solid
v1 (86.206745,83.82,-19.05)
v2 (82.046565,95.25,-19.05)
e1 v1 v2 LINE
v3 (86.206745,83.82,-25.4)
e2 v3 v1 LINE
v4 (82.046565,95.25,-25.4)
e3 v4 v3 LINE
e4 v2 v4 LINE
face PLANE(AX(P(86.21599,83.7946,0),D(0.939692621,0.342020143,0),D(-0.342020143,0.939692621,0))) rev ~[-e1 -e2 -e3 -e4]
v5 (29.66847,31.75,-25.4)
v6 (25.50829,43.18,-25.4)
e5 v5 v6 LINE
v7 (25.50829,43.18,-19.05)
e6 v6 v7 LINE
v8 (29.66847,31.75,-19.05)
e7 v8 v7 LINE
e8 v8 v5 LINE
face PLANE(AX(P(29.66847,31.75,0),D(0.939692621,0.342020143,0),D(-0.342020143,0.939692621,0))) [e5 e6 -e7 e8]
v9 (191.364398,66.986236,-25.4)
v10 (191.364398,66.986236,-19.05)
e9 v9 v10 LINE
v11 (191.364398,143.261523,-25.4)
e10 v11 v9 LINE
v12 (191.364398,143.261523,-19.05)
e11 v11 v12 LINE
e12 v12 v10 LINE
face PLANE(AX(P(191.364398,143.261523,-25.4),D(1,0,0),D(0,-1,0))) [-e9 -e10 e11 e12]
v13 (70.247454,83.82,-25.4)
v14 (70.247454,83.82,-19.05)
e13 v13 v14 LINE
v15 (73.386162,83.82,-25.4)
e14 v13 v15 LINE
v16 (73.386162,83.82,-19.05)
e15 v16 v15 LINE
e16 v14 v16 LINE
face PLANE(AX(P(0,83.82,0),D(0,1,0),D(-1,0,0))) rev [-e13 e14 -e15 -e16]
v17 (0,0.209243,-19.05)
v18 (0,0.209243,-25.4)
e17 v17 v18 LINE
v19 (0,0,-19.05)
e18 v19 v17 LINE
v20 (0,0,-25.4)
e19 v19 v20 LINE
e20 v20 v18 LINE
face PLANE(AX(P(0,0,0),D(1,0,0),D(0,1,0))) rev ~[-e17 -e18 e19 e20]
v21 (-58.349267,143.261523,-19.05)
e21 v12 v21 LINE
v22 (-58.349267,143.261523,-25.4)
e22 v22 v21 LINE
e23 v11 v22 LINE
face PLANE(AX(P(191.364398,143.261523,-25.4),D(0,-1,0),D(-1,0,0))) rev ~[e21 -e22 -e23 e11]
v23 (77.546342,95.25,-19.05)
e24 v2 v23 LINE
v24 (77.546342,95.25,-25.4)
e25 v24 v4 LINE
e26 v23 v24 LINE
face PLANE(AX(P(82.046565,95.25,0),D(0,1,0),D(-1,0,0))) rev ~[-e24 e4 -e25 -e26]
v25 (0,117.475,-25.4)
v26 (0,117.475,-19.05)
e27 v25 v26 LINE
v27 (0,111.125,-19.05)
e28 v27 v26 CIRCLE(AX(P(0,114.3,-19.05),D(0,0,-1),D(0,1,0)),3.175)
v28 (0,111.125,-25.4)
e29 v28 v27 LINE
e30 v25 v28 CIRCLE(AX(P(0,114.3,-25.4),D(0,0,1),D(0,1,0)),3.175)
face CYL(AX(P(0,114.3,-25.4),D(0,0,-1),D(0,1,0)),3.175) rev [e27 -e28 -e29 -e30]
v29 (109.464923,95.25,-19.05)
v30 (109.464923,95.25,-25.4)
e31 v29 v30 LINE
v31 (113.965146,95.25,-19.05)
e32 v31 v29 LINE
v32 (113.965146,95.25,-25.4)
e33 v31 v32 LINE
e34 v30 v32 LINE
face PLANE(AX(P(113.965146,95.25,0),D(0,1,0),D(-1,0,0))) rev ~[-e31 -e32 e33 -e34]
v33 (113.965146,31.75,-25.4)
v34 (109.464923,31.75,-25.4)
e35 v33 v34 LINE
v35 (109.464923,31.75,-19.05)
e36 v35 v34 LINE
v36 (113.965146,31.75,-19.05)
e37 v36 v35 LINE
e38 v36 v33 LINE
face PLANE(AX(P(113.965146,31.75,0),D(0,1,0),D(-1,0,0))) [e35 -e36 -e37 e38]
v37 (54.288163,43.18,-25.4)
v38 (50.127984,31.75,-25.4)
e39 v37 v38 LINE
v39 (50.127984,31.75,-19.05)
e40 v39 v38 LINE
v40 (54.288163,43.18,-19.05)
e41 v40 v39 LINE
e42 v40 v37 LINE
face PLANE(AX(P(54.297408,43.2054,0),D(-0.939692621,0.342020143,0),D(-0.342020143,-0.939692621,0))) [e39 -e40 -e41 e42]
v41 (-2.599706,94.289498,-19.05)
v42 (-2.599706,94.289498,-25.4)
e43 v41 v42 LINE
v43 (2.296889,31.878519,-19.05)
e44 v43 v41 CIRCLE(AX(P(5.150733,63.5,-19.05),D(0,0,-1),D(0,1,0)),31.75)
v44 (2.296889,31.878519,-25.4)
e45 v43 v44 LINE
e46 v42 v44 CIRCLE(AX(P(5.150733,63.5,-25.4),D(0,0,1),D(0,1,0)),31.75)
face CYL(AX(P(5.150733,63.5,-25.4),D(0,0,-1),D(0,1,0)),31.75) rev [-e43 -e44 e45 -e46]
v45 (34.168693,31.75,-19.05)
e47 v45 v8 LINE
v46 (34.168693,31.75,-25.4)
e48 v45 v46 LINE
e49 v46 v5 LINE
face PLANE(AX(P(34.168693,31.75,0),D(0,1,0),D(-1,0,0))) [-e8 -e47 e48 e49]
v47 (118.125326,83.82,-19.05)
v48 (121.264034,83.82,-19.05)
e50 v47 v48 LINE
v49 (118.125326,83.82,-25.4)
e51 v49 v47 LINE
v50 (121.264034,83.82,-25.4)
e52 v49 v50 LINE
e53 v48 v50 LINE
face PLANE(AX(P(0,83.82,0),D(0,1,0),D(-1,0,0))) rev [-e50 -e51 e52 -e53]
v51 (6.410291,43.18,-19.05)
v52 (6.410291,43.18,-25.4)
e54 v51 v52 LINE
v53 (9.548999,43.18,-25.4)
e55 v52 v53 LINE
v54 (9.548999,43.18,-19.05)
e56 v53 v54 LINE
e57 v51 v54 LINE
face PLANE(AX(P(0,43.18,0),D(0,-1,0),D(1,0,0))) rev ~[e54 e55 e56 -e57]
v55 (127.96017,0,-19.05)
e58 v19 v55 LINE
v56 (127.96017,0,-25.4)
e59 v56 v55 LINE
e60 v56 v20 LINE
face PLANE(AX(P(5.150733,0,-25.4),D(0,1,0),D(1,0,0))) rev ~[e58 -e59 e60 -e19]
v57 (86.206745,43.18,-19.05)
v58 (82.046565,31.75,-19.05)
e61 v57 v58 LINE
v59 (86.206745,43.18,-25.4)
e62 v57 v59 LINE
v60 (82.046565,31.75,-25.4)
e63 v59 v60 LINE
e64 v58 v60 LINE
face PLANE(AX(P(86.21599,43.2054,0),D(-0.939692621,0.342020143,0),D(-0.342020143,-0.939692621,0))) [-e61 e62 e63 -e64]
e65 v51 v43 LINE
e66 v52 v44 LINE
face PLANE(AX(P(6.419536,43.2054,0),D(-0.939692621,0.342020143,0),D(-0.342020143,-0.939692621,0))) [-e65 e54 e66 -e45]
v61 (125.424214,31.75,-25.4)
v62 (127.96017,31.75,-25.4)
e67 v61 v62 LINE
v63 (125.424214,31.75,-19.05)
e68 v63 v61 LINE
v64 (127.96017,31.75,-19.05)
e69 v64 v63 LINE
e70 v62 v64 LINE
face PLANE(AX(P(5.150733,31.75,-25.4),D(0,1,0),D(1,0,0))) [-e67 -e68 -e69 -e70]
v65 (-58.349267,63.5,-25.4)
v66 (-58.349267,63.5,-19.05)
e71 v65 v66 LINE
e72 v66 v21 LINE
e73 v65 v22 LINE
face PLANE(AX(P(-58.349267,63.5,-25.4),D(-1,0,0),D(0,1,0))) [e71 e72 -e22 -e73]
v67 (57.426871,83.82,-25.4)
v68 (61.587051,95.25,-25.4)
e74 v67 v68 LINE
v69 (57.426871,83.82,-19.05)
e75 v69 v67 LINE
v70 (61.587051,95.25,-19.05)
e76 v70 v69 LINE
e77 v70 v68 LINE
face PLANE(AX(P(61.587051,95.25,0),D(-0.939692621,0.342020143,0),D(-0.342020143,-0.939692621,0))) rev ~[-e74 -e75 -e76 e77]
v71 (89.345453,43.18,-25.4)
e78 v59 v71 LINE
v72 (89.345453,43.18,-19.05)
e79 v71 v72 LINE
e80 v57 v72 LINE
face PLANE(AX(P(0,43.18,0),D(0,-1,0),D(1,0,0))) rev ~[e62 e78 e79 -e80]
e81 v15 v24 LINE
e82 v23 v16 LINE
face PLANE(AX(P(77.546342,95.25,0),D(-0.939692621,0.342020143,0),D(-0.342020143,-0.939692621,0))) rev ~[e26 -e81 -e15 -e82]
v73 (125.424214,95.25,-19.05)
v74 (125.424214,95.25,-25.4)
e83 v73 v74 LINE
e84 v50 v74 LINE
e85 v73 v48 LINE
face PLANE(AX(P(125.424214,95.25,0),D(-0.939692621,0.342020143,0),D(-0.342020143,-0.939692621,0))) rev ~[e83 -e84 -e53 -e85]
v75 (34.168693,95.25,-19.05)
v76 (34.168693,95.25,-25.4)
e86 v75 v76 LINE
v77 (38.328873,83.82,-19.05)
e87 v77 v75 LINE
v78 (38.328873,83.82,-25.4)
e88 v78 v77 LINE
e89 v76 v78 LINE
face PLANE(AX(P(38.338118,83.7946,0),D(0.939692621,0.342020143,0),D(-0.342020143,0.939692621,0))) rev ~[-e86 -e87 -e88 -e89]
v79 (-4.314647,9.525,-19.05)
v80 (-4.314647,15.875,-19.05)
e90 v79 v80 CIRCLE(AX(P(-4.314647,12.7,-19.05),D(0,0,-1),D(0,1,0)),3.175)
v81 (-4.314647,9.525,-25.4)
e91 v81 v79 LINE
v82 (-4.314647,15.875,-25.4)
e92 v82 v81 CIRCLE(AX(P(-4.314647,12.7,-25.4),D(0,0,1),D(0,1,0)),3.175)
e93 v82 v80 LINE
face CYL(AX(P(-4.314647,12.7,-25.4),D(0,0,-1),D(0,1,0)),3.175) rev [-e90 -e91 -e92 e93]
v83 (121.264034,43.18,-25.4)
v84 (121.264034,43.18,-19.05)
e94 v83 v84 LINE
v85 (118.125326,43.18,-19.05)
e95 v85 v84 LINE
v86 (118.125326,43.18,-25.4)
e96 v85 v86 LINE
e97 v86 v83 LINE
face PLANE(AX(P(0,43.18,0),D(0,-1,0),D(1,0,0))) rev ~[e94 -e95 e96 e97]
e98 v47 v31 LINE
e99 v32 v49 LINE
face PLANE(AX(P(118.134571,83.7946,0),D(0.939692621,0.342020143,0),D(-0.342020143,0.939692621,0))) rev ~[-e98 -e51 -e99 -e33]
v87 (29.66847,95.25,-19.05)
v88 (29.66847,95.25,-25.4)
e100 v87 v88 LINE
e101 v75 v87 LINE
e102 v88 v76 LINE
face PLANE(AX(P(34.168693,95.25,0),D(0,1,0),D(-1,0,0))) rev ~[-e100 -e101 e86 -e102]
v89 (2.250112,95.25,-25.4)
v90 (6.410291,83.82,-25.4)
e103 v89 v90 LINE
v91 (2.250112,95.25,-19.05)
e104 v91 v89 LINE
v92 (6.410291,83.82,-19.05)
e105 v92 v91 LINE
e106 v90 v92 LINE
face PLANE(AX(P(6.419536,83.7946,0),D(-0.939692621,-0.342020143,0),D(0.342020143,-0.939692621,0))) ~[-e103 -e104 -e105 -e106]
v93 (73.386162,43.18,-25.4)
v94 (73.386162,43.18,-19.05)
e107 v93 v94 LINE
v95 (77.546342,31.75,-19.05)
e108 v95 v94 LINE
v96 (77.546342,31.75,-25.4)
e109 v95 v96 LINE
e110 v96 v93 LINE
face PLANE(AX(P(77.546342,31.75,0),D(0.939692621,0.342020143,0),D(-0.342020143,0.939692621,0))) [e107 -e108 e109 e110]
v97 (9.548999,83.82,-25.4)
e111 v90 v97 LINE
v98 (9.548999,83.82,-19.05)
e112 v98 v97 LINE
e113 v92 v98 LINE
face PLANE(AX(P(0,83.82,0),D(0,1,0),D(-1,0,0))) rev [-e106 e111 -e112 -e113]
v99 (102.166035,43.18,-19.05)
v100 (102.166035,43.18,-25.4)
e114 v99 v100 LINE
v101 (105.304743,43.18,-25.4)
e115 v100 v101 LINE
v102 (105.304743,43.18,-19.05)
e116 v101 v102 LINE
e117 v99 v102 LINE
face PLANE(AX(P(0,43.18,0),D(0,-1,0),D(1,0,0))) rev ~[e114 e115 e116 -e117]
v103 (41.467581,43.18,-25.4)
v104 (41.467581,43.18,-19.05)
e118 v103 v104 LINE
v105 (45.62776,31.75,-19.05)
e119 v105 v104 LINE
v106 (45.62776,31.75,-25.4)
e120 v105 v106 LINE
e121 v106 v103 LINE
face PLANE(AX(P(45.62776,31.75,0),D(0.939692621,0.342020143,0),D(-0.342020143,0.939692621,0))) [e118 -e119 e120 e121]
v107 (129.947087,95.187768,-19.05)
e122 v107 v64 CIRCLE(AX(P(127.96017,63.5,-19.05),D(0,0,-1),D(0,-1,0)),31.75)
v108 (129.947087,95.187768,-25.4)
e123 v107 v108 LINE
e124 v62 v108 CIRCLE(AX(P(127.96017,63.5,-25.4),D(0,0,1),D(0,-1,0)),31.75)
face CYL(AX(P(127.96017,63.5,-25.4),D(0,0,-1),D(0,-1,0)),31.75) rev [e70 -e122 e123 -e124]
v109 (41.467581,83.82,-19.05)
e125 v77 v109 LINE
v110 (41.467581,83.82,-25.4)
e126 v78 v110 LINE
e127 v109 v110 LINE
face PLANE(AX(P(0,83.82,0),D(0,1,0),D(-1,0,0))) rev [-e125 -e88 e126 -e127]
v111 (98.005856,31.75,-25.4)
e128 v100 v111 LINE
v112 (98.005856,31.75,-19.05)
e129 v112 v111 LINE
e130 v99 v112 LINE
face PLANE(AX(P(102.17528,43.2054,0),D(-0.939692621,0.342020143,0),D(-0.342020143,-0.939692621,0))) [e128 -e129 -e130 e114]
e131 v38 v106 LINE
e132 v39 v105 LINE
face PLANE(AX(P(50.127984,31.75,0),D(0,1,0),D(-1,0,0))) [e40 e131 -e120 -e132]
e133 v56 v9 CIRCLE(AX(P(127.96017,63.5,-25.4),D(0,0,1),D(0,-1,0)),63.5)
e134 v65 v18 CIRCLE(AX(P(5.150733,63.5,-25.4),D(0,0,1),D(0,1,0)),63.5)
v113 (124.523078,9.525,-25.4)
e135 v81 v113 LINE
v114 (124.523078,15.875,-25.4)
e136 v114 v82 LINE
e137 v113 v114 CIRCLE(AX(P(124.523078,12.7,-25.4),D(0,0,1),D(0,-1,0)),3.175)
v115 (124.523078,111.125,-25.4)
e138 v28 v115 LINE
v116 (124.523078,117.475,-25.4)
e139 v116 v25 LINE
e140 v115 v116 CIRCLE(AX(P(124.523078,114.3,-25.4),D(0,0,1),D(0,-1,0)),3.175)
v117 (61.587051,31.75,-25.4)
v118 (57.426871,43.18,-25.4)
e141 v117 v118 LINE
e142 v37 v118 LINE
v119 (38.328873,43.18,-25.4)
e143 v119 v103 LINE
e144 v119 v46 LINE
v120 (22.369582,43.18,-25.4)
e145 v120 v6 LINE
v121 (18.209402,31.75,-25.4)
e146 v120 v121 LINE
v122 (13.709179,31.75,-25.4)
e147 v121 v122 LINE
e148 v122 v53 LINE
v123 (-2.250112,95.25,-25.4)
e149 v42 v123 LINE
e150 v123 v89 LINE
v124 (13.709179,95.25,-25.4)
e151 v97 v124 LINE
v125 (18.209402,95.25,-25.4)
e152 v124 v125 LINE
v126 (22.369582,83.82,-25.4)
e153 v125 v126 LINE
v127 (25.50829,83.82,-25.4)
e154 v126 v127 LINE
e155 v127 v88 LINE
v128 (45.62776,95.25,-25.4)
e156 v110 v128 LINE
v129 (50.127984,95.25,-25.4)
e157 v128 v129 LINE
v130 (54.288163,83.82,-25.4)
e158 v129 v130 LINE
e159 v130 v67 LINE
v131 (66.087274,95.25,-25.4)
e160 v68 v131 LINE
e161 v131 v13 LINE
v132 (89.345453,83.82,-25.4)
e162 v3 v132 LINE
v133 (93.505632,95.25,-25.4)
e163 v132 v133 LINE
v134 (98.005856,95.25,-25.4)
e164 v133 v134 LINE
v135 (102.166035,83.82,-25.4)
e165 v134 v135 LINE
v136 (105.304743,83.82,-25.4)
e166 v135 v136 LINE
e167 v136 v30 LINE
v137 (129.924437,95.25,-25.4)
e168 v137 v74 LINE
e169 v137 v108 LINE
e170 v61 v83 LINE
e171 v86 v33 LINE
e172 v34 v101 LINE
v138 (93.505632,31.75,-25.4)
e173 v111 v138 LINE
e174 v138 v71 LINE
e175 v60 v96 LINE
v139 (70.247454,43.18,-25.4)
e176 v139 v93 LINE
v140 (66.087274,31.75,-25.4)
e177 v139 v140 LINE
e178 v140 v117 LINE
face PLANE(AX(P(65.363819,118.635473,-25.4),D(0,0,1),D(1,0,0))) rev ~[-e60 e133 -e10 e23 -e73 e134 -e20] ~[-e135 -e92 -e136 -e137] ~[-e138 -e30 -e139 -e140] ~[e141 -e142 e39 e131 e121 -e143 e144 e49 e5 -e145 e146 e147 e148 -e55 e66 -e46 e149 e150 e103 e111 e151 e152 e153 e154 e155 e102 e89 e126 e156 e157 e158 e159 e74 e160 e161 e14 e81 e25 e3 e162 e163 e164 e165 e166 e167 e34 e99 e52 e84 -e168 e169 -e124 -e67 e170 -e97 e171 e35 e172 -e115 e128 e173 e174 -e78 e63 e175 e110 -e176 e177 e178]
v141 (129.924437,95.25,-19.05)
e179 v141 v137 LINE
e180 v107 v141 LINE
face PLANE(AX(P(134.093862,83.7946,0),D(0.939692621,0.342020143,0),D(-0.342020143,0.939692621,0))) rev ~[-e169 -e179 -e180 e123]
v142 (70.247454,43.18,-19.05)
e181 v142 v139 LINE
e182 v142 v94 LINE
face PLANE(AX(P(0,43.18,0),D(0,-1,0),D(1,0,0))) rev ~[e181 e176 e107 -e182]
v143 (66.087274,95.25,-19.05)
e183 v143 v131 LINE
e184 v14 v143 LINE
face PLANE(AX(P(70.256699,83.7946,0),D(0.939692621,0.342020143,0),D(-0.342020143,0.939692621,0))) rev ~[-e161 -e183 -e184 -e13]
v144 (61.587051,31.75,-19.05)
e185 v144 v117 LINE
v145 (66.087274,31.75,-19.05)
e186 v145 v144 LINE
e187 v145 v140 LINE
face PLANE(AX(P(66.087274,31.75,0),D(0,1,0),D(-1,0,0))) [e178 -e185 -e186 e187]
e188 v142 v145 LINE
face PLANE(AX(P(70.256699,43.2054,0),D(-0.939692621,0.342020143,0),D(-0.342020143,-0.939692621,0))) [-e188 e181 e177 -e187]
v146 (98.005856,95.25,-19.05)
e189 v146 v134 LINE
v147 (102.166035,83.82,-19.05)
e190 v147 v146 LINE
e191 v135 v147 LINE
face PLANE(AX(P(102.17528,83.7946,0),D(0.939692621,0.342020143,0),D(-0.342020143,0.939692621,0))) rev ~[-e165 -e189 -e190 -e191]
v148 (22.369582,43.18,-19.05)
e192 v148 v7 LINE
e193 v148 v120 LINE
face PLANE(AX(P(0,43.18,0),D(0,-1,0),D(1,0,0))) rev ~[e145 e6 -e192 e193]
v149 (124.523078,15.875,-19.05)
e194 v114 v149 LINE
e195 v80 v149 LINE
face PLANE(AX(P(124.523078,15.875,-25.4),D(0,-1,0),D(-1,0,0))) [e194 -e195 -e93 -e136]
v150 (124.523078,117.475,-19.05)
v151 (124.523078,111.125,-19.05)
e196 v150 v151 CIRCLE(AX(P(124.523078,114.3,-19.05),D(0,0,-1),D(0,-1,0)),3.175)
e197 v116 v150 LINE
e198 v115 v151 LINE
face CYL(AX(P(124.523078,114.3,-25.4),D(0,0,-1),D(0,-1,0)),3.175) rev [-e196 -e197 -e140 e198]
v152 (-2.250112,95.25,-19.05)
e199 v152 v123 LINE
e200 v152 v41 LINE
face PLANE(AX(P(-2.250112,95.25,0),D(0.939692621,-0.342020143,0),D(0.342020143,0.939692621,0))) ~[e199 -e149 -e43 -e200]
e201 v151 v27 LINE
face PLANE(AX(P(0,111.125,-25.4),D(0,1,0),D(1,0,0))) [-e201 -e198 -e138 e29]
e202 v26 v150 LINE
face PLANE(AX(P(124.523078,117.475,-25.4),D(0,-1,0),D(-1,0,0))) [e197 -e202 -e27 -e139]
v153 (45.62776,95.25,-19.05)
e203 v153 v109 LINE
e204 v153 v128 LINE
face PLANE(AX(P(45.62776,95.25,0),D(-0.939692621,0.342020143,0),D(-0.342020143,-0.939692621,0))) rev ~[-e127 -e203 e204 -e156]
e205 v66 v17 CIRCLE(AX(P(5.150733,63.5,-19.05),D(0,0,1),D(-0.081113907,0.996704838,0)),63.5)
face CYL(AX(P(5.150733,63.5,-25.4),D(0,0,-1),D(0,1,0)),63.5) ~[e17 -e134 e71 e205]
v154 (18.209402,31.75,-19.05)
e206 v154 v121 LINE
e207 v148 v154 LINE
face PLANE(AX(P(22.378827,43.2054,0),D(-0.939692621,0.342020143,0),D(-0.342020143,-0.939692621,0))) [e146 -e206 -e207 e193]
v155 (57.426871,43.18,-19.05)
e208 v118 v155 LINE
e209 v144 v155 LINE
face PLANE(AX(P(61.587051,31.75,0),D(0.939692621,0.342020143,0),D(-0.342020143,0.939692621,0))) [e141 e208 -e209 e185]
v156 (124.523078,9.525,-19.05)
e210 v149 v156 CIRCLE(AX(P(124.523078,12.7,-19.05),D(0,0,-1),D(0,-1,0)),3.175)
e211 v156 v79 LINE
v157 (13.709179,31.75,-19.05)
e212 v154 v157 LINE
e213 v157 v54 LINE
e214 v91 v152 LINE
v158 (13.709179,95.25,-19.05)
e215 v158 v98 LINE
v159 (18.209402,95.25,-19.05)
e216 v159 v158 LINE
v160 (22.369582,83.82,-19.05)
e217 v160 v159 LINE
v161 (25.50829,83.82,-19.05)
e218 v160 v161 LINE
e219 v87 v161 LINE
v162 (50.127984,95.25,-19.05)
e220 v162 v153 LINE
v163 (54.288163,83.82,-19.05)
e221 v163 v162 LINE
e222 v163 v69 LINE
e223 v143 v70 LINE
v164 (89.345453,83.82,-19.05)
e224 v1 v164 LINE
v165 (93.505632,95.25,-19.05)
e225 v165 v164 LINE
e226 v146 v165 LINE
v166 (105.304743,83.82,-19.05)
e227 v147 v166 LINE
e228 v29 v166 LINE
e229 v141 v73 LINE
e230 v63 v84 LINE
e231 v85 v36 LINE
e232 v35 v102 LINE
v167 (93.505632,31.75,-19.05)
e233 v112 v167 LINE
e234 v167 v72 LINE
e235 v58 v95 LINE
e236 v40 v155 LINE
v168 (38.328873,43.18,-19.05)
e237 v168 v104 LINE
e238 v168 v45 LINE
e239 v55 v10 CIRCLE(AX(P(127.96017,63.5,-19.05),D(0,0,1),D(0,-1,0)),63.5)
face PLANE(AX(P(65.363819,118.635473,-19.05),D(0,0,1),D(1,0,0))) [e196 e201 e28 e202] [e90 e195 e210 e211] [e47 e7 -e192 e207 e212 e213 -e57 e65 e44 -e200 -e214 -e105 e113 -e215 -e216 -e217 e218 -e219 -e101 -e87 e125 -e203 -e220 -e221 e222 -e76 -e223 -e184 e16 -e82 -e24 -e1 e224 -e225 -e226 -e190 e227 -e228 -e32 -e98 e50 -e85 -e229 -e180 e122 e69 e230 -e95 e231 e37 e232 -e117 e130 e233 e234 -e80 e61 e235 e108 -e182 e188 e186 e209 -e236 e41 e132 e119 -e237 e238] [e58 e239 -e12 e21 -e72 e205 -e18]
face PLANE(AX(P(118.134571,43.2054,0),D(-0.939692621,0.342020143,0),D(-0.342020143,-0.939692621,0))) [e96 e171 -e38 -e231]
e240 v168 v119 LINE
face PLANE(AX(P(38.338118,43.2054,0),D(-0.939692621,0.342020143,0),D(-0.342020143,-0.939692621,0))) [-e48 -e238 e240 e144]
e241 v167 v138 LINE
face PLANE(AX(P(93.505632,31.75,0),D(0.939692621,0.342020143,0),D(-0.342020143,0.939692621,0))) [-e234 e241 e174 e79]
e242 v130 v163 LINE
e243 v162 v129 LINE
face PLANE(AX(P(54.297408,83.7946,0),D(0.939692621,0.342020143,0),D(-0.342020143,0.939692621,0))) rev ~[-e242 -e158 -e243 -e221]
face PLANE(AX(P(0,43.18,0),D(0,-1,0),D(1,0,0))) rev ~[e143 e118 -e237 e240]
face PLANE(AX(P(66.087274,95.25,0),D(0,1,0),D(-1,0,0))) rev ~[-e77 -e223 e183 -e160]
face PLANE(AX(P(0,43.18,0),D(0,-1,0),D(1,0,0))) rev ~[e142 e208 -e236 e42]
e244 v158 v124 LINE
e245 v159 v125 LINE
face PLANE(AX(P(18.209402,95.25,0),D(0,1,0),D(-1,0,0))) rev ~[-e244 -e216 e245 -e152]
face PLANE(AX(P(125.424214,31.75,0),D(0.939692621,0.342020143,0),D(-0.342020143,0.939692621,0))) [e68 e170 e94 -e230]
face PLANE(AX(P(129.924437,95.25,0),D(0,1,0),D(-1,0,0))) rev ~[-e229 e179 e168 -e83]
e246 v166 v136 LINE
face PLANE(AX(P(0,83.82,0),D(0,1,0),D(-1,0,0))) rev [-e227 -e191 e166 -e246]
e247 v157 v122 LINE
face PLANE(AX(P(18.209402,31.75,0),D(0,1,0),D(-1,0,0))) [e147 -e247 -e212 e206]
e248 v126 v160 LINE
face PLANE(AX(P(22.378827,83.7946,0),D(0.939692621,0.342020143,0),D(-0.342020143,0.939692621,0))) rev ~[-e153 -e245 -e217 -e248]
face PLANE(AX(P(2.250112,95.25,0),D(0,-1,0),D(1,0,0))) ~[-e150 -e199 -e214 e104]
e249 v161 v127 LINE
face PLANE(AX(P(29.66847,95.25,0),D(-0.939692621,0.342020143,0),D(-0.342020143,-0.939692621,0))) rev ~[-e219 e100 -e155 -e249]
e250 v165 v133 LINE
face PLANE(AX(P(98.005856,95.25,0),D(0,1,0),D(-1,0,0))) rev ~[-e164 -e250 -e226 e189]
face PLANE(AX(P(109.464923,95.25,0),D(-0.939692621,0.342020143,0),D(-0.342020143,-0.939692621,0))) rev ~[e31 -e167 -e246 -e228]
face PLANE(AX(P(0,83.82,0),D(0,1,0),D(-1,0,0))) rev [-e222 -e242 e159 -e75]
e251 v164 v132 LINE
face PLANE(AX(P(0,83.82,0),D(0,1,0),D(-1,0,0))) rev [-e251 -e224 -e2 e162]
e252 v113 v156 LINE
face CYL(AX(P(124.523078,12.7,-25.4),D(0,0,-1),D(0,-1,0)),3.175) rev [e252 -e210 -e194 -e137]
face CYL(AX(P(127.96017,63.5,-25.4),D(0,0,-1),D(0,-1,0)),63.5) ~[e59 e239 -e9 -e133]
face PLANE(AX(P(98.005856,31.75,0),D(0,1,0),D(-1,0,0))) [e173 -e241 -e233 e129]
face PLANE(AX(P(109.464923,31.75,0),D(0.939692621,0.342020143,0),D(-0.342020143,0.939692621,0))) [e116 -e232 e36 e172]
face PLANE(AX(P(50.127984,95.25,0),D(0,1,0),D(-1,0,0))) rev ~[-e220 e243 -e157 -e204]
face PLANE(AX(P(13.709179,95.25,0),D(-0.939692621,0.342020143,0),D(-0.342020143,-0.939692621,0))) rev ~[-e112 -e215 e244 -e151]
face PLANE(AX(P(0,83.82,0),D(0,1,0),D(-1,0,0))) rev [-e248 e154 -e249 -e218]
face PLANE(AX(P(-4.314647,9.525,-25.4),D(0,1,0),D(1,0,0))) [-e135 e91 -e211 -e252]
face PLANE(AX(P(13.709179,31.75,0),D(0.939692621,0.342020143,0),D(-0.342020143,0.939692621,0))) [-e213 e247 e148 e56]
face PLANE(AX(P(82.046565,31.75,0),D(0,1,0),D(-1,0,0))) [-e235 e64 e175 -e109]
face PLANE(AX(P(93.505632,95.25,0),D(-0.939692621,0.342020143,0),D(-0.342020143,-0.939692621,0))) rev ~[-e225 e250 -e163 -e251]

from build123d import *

# Parameters (mm, degrees)
BLANKSKE_W           = 127
BLANKSKE_H           = 43.18
BLANK_DEPTH          = 25.4
TOOTHCUTSIM_DEPTH    = 137.523523248
TEETHCUTS_COUNT      = 9
TEETHCUTS_PITCH      = 15.959290662
BOSS_EXTRUDE1_DEPTH  = 25.4
MIRROR1_COPY_1_DEPTH = 137.523523248
MIRROR1_COPY_2_DEPTH = 137.523523248
MIRROR1_COPY_3_DEPTH = 137.523523248
MIRROR1_COPY_4_DEPTH = 137.523523248
MIRROR1_COPY_5_DEPTH = 137.523523248
MIRROR1_COPY_6_DEPTH = 137.523523248
MIRROR1_COPY_7_DEPTH = 137.523523248
MIRROR1_COPY_8_DEPTH = 137.523523248
CUT_EXTRUDE1_DEPTH   = 232.151804304
SKETCH5_W            = 249.809436719
SKETCH5_H            = 19.05
CUT_EXTRUDE2_DEPTH   = 232.151804304
BOSS_EXTRUDE2_DEPTH  = 6.35


with BuildPart() as part:
    # BlankSke → Blank (new body)
    with BuildSketch(Plane.XY):
        with Locations((63.5, 21.59)):
            Rectangle(BLANKSKE_W, BLANKSKE_H)
    blank = extrude(amount=-BLANK_DEPTH)

    # TooCutSkeSim → ToothCutSim (cut, through all)
    with BuildSketch(Plane.XY):
        Polygon((2.250111678, 31.75), (-2.250111678, 31.75), (-6.4195363, 43.2054), (6.4195363, 43.2054), align=None)
    toothcutsim = extrude(amount=-TOOTHCUTSIM_DEPTH, mode=Mode.SUBTRACT)

    # TeethCuts: ToothCutSim ×9
    with Locations(*[(i * TEETHCUTS_PITCH, 0, 0) for i in range(1, TEETHCUTS_COUNT)]):
        add(toothcutsim, mode=Mode.SUBTRACT)

    # Sketch3 → Boss-Extrude1 (add)
    with BuildSketch(Plane(origin=(0, 0, -25.4), x_dir=(-1, 0, 0), z_dir=(0, 0, -1))):
        with BuildLine():
            Line((-127.960169835, 127), (-5.150733116, 127))
            ThreePointArc((-5.150733116, 127), (58.349266884, 63.5), (-5.150733116, 0))
            Line((-5.150733116, 0), (-127.960169835, 0))
            ThreePointArc((-127.960169835, 0), (-191.460169835, 63.5), (-127.960169835, 127))
        make_face()
        with BuildLine():
            Line((-127.960169835, 95.25), (-5.150733116, 95.25))
            ThreePointArc((-5.150733116, 95.25), (26.599266884, 63.5), (-5.150733116, 31.75))
            Line((-5.150733116, 31.75), (-127.960169835, 31.75))
            ThreePointArc((-127.960169835, 31.75), (-159.710169835, 63.5), (-127.960169835, 95.25))
        make_face(mode=Mode.SUBTRACT)
    extrude(amount=-BOSS_EXTRUDE1_DEPTH)

    # Mirror1: Blank, ToothCutSim across plane
    add(blank.mirror(Plane.ZX.offset(63.5)))
    add(toothcutsim.mirror(Plane.ZX.offset(63.5)), mode=Mode.SUBTRACT)

    # Mirror1 copy 1 sketch → Mirror1 copy 1 (cut, through all)
    with BuildSketch(Plane(origin=(15.959290662, 127, 0), x_dir=(1, 0, 0), z_dir=(0, 0, 1))):
        Polygon((2.250111678, -31.75), (-2.250111678, -31.75), (-6.4195363, -43.2054), (6.4195363, -43.2054), align=None)
    extrude(amount=-MIRROR1_COPY_1_DEPTH, mode=Mode.SUBTRACT)

    # Mirror1 copy 2 sketch → Mirror1 copy 2 (cut, through all)
    with BuildSketch(Plane(origin=(31.918581324, 127, 0), x_dir=(1, 0, 0), z_dir=(0, 0, 1))):
        Polygon((2.250111678, -31.75), (-2.250111678, -31.75), (-6.4195363, -43.2054), (6.4195363, -43.2054), align=None)
    extrude(amount=-MIRROR1_COPY_2_DEPTH, mode=Mode.SUBTRACT)

    # Mirror1 copy 3 sketch → Mirror1 copy 3 (cut, through all)
    with BuildSketch(Plane(origin=(47.877871986, 127, 0), x_dir=(1, 0, 0), z_dir=(0, 0, 1))):
        Polygon((2.250111678, -31.75), (-2.250111678, -31.75), (-6.4195363, -43.2054), (6.4195363, -43.2054), align=None)
    extrude(amount=-MIRROR1_COPY_3_DEPTH, mode=Mode.SUBTRACT)

    # Mirror1 copy 4 sketch → Mirror1 copy 4 (cut, through all)
    with BuildSketch(Plane(origin=(63.837162648, 127, 0), x_dir=(1, 0, 0), z_dir=(0, 0, 1))):
        Polygon((2.250111678, -31.75), (-2.250111678, -31.75), (-6.4195363, -43.2054), (6.4195363, -43.2054), align=None)
    extrude(amount=-MIRROR1_COPY_4_DEPTH, mode=Mode.SUBTRACT)

    # Mirror1 copy 5 sketch → Mirror1 copy 5 (cut, through all)
    with BuildSketch(Plane(origin=(79.79645331, 127, 0), x_dir=(1, 0, 0), z_dir=(0, 0, 1))):
        Polygon((2.250111678, -31.75), (-2.250111678, -31.75), (-6.4195363, -43.2054), (6.4195363, -43.2054), align=None)
    extrude(amount=-MIRROR1_COPY_5_DEPTH, mode=Mode.SUBTRACT)

    # Mirror1 copy 6 sketch → Mirror1 copy 6 (cut, through all)
    with BuildSketch(Plane(origin=(95.755743972, 127, 0), x_dir=(1, 0, 0), z_dir=(0, 0, 1))):
        Polygon((2.250111678, -31.75), (-2.250111678, -31.75), (-6.4195363, -43.2054), (6.4195363, -43.2054), align=None)
    extrude(amount=-MIRROR1_COPY_6_DEPTH, mode=Mode.SUBTRACT)

    # Mirror1 copy 7 sketch → Mirror1 copy 7 (cut, through all)
    with BuildSketch(Plane(origin=(111.715034634, 127, 0), x_dir=(1, 0, 0), z_dir=(0, 0, 1))):
        Polygon((2.250111678, -31.75), (-2.250111678, -31.75), (-6.4195363, -43.2054), (6.4195363, -43.2054), align=None)
    extrude(amount=-MIRROR1_COPY_7_DEPTH, mode=Mode.SUBTRACT)

    # Mirror1 copy 8 sketch → Mirror1 copy 8 (cut, through all)
    with BuildSketch(Plane(origin=(127.674325296, 127, 0), x_dir=(1, 0, 0), z_dir=(0, 0, 1))):
        Polygon((2.250111678, -31.75), (-2.250111678, -31.75), (-6.4195363, -43.2054), (6.4195363, -43.2054), align=None)
    extrude(amount=-MIRROR1_COPY_8_DEPTH, mode=Mode.SUBTRACT)

    # Sketch4 → Cut-Extrude1 (cut, through all)
    with BuildSketch(Plane(origin=(0, 0, -25.4), x_dir=(-1, 0, 0), z_dir=(0, 0, -1))):
        with BuildLine():
            Line((4.314647241, 9.525), (-124.523078394, 9.525))
            ThreePointArc((-124.523078394, 9.525), (-127.698078394, 12.7), (-124.523078394, 15.875))
            Line((-124.523078394, 15.875), (4.314647241, 15.875))
            ThreePointArc((4.314647241, 15.875), (7.489647241, 12.7), (4.314647241, 9.525))
        make_face()
        with BuildLine():
            Line((0, 111.125), (-124.523078394, 111.125))
            ThreePointArc((-124.523078394, 111.125), (-127.698078394, 114.3), (-124.523078394, 117.475))
            Line((-124.523078394, 117.475), (0, 117.475))
            ThreePointArc((0, 117.475), (3.175, 114.3), (0, 111.125))
        make_face()
    extrude(amount=-CUT_EXTRUDE1_DEPTH, mode=Mode.SUBTRACT)

    # Sketch5 → Cut-Extrude2 (cut, through all)
    with BuildSketch(Plane(origin=(0, 0, 0), x_dir=(1, 0, 0), z_dir=(0, 1, 0))):
        with Locations((66.555451476, 9.525)):
            Rectangle(SKETCH5_W, SKETCH5_H)
    extrude(amount=CUT_EXTRUDE2_DEPTH, mode=Mode.SUBTRACT)

    # Sketch6 → Boss-Extrude2 (add)
    with BuildSketch(Plane(origin=(0, 0, -25.4), x_dir=(-1, 0, 0), z_dir=(0, 0, -1))):
        Polygon((-191.364398064, 117.861523458), (-191.364398064, 143.261523458), (58.349266884, 143.261523458), (58.349266884, 117.861523458), (58.349266884, 63.5), (13.664264486, 117.861523458), (-144.531259298, 117.861523458), (-191.364398064, 66.98623618), align=None)
    extrude(amount=-BOSS_EXTRUDE2_DEPTH)


solid = part.part
